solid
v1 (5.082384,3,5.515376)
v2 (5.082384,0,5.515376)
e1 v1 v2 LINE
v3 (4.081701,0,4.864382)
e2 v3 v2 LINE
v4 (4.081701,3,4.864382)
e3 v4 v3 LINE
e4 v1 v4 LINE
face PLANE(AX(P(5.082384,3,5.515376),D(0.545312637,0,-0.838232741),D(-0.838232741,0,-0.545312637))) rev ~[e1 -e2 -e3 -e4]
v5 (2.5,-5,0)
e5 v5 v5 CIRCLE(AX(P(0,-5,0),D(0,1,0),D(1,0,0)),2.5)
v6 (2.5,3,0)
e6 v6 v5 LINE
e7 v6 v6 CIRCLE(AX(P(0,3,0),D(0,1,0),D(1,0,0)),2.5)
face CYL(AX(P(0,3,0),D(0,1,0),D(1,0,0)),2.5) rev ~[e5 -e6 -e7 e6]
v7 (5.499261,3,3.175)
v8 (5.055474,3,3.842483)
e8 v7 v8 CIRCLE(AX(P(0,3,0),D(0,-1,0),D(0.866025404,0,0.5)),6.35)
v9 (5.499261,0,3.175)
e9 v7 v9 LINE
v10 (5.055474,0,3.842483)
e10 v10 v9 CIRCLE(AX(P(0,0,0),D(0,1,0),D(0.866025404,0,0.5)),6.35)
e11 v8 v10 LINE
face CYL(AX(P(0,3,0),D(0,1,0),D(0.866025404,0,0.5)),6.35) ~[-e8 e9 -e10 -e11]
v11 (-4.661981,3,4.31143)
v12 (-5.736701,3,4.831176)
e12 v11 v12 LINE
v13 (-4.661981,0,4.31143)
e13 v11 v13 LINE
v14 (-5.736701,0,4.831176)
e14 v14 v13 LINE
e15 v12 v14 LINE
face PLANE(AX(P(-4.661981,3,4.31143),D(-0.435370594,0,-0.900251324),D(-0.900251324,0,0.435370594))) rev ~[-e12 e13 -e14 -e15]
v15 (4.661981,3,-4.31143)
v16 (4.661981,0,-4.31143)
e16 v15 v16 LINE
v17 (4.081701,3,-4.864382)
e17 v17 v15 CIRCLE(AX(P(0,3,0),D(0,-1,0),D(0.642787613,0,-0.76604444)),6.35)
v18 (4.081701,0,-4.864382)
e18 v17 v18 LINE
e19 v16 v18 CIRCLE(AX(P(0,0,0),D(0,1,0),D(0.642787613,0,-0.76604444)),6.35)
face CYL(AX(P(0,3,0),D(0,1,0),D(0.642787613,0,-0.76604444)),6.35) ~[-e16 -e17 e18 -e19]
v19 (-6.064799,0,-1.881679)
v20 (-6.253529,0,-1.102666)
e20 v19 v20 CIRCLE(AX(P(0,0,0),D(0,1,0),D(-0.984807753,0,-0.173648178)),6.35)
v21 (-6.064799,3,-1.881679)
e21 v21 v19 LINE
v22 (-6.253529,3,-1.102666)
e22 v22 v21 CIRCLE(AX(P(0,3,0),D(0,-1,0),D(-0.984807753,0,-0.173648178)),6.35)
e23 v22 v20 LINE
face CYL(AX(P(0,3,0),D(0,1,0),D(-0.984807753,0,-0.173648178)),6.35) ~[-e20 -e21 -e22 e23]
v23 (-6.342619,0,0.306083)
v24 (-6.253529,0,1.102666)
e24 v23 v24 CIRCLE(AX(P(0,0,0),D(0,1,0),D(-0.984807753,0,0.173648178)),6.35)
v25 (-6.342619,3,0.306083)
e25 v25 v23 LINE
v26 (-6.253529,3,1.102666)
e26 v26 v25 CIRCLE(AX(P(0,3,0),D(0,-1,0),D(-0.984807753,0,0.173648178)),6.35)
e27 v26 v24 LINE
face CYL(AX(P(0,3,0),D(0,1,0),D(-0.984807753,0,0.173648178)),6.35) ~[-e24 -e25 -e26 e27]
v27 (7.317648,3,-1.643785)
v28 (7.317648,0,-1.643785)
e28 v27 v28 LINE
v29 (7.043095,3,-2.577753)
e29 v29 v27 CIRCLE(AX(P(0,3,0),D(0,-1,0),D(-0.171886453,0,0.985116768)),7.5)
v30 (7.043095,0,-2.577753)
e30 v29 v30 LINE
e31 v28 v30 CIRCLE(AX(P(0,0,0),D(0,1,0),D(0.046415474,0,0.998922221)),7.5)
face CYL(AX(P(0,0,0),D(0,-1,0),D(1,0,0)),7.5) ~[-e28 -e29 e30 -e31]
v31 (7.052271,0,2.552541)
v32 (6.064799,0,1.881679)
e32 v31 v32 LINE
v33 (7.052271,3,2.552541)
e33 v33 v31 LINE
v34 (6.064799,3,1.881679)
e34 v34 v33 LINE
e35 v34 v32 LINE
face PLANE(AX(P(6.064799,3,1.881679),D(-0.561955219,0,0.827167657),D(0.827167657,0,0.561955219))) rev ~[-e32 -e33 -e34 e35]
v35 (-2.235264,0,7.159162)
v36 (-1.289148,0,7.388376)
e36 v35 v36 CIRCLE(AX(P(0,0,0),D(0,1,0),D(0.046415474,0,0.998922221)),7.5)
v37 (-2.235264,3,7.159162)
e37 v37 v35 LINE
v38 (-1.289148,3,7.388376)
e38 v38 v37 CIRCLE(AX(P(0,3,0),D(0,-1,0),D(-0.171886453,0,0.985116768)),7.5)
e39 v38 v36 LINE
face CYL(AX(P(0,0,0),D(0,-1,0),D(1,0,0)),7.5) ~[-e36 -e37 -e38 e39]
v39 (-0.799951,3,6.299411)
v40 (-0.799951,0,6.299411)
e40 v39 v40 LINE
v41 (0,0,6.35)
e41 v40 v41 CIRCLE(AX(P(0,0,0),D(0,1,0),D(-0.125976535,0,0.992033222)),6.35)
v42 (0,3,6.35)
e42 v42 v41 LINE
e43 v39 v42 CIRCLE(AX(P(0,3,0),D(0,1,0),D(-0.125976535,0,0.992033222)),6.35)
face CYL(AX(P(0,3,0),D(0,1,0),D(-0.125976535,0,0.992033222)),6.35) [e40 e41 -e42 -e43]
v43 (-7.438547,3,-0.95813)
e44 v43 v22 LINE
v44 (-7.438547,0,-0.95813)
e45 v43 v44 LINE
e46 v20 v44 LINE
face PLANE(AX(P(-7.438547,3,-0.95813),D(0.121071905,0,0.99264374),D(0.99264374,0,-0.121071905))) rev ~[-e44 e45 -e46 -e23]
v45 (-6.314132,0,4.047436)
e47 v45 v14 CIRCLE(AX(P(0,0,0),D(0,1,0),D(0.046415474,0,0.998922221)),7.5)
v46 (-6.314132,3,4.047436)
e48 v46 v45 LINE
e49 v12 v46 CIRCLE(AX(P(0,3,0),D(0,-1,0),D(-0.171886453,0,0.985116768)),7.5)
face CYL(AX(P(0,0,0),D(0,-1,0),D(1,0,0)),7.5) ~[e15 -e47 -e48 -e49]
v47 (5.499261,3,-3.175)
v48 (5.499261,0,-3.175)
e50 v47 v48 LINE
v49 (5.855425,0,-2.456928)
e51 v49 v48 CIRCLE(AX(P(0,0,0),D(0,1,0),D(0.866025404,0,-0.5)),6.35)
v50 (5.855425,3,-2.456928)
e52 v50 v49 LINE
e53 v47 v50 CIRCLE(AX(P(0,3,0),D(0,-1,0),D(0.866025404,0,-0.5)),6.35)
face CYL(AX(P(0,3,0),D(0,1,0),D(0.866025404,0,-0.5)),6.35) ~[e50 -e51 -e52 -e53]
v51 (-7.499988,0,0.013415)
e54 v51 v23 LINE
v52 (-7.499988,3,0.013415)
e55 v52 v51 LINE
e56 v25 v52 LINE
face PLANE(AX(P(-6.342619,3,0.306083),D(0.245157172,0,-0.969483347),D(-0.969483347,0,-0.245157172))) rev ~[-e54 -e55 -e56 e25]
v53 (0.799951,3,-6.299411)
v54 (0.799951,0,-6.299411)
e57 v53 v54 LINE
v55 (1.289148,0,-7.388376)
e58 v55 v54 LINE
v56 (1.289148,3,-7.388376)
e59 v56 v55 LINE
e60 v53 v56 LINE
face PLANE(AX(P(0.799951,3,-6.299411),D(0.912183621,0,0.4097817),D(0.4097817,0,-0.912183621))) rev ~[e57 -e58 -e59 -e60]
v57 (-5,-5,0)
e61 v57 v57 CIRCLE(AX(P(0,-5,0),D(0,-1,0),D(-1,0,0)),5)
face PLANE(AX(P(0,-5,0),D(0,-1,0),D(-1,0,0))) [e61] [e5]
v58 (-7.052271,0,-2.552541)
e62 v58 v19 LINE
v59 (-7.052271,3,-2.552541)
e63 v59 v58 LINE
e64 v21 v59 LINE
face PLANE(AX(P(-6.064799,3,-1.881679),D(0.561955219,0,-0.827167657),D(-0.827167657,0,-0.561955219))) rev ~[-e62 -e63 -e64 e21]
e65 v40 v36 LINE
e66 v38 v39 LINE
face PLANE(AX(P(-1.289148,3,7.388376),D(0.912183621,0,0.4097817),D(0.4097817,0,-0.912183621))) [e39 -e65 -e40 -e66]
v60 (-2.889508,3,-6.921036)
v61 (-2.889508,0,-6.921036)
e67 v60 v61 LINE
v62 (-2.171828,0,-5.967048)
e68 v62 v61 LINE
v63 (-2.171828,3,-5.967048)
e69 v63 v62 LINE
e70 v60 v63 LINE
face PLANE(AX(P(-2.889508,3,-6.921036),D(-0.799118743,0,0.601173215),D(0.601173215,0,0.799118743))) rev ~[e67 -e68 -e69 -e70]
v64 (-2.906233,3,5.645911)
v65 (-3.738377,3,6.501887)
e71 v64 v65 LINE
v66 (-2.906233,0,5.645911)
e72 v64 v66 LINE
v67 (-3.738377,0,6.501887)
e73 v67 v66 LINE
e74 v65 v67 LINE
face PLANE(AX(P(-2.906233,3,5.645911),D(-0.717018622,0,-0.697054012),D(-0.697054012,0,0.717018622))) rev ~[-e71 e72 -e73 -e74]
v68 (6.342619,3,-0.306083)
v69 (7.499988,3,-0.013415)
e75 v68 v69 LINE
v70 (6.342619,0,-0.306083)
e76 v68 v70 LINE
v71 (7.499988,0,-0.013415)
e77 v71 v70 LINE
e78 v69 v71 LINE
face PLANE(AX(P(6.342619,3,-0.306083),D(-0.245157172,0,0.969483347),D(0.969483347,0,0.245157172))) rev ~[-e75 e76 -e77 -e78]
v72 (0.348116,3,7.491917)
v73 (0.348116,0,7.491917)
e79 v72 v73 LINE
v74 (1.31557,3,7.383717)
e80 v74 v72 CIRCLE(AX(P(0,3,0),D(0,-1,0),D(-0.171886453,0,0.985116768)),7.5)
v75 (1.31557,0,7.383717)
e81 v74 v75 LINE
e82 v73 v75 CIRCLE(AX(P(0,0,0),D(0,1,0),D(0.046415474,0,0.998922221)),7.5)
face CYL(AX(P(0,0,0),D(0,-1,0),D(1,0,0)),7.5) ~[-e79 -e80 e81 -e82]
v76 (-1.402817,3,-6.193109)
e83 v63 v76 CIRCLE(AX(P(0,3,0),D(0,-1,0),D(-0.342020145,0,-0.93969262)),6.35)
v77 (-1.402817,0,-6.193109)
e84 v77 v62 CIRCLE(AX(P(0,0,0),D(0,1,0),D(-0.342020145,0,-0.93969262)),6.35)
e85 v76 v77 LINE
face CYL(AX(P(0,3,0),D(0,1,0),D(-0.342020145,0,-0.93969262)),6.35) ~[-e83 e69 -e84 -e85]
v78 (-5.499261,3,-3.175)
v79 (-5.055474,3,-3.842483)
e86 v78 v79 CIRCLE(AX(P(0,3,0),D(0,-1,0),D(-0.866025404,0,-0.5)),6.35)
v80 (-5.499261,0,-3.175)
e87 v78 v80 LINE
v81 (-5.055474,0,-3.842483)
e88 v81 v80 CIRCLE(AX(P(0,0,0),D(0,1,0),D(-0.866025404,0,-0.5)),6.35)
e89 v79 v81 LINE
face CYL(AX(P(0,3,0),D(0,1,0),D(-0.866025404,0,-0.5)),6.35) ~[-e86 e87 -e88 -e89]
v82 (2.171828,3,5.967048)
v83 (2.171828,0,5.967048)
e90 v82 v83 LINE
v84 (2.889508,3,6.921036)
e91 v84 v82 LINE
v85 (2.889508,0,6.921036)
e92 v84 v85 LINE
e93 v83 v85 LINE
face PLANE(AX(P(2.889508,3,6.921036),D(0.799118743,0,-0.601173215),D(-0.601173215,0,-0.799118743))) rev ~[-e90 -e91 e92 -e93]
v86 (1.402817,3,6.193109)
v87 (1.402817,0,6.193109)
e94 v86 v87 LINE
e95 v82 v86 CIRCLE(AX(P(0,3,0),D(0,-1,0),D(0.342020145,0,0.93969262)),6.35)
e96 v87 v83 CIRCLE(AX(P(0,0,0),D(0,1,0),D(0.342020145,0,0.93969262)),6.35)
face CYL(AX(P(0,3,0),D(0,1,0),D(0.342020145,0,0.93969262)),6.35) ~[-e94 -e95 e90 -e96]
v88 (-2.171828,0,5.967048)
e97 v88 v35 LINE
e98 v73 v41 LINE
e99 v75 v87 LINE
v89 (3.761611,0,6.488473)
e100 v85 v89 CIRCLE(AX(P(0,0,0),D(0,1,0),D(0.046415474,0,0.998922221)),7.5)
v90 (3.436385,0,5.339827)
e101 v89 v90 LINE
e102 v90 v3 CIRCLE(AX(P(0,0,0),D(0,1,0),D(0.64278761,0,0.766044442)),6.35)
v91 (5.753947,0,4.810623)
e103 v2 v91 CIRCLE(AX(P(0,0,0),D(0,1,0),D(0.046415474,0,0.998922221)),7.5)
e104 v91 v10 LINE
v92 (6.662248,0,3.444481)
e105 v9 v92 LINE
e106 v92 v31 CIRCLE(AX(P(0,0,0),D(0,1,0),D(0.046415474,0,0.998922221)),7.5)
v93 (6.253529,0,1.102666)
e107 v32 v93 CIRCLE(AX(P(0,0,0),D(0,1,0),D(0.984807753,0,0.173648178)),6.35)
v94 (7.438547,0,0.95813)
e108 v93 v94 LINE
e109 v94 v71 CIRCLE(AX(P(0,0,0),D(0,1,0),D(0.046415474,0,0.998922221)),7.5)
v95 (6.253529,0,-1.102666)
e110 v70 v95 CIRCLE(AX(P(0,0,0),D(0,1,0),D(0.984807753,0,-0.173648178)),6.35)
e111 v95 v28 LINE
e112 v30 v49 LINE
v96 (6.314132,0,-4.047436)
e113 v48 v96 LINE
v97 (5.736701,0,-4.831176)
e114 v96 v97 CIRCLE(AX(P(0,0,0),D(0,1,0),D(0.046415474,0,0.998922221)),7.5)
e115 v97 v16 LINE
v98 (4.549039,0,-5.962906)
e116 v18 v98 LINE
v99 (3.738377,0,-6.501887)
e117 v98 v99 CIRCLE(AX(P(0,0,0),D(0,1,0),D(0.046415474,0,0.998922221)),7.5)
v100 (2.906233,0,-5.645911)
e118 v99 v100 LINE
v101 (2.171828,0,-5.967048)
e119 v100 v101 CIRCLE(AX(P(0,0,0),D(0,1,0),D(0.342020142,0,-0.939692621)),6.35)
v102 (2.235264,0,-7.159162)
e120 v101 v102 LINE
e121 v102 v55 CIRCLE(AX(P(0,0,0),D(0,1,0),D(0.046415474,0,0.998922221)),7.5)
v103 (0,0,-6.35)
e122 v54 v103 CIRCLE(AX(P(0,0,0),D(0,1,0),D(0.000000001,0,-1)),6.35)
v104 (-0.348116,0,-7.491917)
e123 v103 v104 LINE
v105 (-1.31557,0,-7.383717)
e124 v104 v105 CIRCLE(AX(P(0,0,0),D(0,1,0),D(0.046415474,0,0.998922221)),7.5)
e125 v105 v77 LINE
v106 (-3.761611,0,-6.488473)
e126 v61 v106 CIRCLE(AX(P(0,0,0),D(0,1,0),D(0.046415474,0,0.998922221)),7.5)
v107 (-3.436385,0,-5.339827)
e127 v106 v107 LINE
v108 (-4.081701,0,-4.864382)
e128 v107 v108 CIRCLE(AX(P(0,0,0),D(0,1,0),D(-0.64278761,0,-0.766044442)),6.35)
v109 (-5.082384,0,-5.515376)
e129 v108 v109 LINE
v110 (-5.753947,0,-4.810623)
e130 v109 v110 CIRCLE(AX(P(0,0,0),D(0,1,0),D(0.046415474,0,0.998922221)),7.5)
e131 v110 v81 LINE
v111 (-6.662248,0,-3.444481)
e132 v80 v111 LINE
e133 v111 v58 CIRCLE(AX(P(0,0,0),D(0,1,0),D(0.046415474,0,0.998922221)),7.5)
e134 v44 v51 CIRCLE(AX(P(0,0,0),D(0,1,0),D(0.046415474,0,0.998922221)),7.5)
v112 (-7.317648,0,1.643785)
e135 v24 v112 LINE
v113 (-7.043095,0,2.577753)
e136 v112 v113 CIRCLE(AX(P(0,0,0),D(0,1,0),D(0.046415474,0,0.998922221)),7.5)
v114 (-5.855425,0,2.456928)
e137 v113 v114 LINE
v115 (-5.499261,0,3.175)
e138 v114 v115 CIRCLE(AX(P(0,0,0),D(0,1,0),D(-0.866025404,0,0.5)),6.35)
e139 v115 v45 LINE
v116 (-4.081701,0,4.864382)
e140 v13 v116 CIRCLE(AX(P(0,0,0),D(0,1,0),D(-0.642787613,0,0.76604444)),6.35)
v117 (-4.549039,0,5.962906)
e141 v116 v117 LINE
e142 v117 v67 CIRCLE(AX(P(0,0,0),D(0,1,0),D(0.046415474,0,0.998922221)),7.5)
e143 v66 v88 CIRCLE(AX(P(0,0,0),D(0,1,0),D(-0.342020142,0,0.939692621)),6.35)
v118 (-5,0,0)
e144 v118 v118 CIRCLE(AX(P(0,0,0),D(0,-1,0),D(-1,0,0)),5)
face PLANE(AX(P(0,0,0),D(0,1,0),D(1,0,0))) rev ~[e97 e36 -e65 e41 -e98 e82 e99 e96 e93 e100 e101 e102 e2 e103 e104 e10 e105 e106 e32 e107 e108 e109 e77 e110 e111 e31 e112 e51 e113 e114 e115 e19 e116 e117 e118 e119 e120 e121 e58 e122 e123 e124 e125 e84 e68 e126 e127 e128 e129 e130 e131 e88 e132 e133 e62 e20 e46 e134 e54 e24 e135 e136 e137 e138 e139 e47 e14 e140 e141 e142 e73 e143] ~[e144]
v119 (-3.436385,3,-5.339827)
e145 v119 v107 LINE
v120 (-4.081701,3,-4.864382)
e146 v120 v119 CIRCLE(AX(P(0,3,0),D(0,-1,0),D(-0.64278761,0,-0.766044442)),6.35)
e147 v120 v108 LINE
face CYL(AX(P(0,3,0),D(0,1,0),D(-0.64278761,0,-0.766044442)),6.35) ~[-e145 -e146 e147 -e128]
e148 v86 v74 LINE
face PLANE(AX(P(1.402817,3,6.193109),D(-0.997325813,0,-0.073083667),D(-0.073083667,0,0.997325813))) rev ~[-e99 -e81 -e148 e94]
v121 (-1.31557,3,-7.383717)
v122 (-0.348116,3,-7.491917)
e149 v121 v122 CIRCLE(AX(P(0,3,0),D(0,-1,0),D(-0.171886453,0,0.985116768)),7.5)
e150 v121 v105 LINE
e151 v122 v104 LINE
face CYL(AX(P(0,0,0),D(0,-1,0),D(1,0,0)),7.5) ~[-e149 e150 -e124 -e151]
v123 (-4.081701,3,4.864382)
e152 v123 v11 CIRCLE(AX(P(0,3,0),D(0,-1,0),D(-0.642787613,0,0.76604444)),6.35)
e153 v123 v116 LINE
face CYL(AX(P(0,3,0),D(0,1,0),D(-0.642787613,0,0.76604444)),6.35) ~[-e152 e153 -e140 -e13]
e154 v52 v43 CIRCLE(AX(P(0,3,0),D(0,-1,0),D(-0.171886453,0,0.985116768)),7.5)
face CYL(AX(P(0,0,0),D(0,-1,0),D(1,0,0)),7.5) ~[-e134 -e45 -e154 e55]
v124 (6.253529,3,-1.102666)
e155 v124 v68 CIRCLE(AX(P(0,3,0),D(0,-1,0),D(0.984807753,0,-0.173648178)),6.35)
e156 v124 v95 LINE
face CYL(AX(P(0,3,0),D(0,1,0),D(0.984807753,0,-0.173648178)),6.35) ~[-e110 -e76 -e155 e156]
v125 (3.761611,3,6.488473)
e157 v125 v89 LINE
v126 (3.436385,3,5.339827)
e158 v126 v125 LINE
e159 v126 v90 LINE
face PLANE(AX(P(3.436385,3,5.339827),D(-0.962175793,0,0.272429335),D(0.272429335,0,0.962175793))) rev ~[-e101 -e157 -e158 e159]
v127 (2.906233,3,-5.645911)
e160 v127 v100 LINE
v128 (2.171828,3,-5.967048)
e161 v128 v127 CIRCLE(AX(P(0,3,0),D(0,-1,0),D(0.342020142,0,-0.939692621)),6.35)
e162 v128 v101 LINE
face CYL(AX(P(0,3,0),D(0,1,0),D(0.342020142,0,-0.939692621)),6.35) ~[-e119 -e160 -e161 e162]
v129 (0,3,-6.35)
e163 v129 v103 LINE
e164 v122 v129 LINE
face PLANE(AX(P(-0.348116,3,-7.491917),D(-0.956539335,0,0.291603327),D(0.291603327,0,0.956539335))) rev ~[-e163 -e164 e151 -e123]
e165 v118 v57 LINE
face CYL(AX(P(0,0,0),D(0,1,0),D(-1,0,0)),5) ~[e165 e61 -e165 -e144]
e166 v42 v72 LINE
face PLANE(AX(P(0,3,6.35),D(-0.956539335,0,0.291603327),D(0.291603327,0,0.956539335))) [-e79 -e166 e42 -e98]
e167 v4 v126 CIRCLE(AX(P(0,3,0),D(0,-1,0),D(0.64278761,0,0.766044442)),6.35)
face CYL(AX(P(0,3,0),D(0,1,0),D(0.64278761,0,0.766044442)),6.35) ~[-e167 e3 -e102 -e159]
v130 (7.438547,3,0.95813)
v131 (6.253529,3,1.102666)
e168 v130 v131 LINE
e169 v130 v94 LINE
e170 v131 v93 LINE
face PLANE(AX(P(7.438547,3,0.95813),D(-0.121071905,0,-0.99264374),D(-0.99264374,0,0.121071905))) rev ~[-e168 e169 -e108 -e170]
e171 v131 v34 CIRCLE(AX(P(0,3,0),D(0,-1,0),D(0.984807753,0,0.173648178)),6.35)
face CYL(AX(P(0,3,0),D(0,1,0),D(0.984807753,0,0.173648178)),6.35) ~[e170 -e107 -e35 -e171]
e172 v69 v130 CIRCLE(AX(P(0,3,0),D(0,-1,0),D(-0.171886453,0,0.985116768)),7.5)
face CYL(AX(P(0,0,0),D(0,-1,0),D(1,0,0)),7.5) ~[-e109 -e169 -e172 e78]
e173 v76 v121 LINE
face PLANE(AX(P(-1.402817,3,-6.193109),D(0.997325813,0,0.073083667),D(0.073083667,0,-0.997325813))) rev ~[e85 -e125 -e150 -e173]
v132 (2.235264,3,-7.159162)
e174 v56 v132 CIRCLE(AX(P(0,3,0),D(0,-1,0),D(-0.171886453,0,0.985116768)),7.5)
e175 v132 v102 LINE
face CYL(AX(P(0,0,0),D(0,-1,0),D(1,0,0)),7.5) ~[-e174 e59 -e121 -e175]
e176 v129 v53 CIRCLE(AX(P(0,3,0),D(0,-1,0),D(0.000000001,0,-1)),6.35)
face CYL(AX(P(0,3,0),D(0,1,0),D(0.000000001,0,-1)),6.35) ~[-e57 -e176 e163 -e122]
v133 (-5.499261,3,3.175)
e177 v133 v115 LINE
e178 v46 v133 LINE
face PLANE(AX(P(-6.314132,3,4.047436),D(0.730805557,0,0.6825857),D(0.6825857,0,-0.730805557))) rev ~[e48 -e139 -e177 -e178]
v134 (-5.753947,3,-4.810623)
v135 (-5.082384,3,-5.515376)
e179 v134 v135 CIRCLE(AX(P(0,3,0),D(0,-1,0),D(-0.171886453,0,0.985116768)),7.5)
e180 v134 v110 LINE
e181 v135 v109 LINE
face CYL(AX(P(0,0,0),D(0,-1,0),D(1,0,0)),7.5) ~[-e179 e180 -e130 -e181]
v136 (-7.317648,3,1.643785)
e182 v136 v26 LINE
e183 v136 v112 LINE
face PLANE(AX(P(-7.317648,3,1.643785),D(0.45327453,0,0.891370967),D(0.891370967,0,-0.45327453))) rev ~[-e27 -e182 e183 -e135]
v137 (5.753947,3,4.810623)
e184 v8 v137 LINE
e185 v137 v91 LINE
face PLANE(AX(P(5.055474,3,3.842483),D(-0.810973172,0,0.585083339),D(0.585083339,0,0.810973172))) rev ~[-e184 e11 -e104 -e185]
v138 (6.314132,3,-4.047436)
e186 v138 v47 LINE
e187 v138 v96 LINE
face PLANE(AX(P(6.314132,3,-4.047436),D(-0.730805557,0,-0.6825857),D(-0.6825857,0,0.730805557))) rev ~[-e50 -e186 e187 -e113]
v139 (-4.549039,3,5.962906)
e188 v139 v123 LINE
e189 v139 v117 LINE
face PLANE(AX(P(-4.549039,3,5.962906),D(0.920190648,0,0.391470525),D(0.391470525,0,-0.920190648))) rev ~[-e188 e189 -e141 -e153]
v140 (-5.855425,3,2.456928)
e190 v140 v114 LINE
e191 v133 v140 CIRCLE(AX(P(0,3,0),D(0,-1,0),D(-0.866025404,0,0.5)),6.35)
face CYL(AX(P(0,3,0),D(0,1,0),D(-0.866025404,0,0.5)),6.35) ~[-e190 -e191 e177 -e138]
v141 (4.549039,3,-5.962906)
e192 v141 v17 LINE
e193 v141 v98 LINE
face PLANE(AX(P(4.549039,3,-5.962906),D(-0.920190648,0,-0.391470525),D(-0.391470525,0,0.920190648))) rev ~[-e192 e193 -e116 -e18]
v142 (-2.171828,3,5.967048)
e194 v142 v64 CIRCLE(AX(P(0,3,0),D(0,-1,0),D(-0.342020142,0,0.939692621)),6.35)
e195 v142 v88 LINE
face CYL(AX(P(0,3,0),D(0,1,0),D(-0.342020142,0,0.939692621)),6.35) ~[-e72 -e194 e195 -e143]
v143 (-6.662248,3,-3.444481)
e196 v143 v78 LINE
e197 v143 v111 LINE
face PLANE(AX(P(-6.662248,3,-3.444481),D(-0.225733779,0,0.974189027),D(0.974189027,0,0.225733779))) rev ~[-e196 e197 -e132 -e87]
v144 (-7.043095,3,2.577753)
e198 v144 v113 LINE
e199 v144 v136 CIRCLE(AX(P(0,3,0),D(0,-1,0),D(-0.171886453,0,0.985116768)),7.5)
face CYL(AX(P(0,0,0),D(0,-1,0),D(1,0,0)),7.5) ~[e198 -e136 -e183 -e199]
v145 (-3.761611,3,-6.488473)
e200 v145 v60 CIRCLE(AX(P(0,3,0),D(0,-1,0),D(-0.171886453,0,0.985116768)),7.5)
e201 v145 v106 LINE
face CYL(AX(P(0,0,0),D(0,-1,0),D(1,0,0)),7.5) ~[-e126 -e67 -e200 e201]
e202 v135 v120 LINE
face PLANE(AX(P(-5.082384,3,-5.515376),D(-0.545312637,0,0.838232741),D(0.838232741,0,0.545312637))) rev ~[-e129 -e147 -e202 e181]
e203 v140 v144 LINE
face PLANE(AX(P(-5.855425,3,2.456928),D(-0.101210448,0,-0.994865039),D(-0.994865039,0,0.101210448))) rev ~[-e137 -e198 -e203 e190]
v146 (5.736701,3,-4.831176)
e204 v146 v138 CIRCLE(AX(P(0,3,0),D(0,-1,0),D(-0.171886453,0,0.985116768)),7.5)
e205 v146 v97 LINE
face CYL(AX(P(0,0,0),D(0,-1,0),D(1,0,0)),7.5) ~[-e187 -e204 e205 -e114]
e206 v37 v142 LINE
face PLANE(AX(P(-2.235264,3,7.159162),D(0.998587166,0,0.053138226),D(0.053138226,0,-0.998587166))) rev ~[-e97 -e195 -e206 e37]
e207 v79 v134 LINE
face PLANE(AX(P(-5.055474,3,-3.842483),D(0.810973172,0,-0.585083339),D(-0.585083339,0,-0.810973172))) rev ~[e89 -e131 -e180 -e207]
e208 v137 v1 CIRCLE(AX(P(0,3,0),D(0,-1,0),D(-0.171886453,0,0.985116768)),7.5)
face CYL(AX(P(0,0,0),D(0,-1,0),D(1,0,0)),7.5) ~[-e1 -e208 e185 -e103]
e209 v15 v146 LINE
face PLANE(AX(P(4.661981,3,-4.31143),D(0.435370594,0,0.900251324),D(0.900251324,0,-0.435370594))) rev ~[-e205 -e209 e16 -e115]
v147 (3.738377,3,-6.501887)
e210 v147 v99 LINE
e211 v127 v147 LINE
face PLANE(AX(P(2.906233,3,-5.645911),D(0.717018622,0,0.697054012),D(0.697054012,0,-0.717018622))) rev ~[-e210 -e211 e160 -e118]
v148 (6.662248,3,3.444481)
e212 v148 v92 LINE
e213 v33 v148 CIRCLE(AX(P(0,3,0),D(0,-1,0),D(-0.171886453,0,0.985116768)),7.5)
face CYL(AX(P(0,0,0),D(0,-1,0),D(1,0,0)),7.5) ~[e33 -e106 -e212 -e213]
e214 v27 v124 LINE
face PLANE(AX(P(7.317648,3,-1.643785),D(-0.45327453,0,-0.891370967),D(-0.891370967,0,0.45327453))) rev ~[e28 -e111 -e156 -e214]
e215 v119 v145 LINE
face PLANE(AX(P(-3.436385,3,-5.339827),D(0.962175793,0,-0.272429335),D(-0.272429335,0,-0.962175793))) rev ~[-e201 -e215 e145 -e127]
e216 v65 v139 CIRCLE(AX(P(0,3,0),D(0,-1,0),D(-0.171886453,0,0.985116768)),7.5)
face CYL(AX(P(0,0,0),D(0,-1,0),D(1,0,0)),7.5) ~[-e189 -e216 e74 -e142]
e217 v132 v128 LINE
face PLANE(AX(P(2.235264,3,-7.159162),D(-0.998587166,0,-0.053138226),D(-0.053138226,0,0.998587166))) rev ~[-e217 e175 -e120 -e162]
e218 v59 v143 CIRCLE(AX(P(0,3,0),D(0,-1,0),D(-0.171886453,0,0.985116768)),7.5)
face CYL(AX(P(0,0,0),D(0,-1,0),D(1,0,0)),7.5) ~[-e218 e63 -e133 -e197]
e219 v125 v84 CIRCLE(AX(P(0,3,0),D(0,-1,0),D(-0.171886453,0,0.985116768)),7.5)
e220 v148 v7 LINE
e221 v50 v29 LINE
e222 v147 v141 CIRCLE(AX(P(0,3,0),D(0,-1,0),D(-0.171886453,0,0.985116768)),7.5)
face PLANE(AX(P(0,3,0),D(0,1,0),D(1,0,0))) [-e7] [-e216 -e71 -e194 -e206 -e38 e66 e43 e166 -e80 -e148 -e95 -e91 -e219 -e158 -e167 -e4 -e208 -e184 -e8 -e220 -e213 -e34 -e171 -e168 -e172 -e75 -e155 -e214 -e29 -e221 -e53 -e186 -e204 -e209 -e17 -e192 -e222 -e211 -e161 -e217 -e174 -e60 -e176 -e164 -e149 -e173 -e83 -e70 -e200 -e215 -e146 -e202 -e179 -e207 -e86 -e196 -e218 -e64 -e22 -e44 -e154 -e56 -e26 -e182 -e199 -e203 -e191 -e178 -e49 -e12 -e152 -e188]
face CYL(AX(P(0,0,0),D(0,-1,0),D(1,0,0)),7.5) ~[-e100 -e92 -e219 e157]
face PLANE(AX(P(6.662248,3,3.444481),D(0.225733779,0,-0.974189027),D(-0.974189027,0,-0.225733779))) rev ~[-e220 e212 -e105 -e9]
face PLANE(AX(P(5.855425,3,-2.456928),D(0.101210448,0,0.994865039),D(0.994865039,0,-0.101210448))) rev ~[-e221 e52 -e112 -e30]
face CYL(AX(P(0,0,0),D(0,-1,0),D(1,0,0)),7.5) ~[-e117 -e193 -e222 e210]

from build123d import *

# Parameters (mm, degrees)
SKETCH1_R           = 7.5
BOSS_EXTRUDE1_DEPTH = 3
SKETCH2_R           = 5
BOSS_EXTRUDE2_DEPTH = 5
CUT_EXTRUDE1_REACH  = 10
SKETCH3_R           = 2.5
CUT_EXTRUDE2_REACH  = 10


with BuildPart() as part:
    # Sketch1 → Boss-Extrude1 (new body)
    with BuildSketch(Plane(origin=(0, 0, 0), x_dir=(1, 0, 0), z_dir=(0, 1, 0))):
        Circle(SKETCH1_R)
    extrude(amount=BOSS_EXTRUDE1_DEPTH)

    # Sketch2 → Boss-Extrude2 (add)
    with BuildSketch(Plane(origin=(0, 0, 0), x_dir=(-1, 0, 0), z_dir=(0, -1, 0))):
        Circle(SKETCH2_R)
    extrude(amount=BOSS_EXTRUDE2_DEPTH)

    # Sketch3 → Cut-Extrude1 (cut, up to next)
    with BuildSketch(Plane(origin=(0, 3, 0), x_dir=(1, 0, 0), z_dir=(0, 1, 0)), mode=Mode.PRIVATE) as cut_extrude1_sk1:
        Circle(SKETCH3_R)
    cut_extrude1_tool1 = extrude(cut_extrude1_sk1.sketch, amount=-CUT_EXTRUDE1_REACH, mode=Mode.PRIVATE) & part.part
    add(cut_extrude1_tool1.solids().sort_by_distance((0, 3, 0))[0], mode=Mode.SUBTRACT)

    # Sketch4 → Cut-Extrude2 (cut, up to next)
    with BuildSketch(Plane(origin=(0, 3, 0), x_dir=(1, 0, 0), z_dir=(0, 1, 0)), mode=Mode.PRIVATE) as cut_extrude2_sk1:
        with BuildLine():
            Line((-1.289148398, -7.388375762), (-0.799951005, -6.299410956))
            ThreePointArc((-0.799951005, -6.299410956), (-0.400774519, -6.337340119), (0, -6.35))
            Line((0, -6.35), (0.348116052, -7.491916658))
            ThreePointArc((0.348116052, -7.491916658), (-0.473355731, -7.485047385), (-1.289148398, -7.388375762))
        make_face()
    cut_extrude2_tool1 = extrude(cut_extrude2_sk1.sketch, amount=-CUT_EXTRUDE2_REACH, mode=Mode.PRIVATE) & part.part
    add(cut_extrude2_tool1.solids().sort_by_distance((-0.440605, 3, 6.967167))[0], mode=Mode.SUBTRACT)
    # Sketch4 → Cut-Extrude2 (cut, up to next)
    with BuildSketch(Plane(origin=(0, 3, 0), x_dir=(1, 0, 0), z_dir=(0, 1, 0)), mode=Mode.PRIVATE) as cut_extrude2_sk2:
        with BuildLine():
            Line((-2.235264324, -7.159161501), (-2.17182791, -5.967048142))
            ThreePointArc((-2.17182791, -5.967048142), (-2.544102834, -5.818078787), (-2.906233494, -5.645910633))
            Line((-2.906233494, -5.645910633), (-3.738376574, -6.501887464))
            ThreePointArc((-3.738376574, -6.501887464), (-3.004845867, -6.871746599), (-2.235264324, -7.159161501))
        make_face()
    cut_extrude2_tool2 = extrude(cut_extrude2_sk2.sketch, amount=-CUT_EXTRUDE2_REACH, mode=Mode.PRIVATE) & part.part
    add(cut_extrude2_tool2.solids().sort_by_distance((-2.796945, 3, 6.3963))[0], mode=Mode.SUBTRACT)
    # Sketch4 → Cut-Extrude2 (cut, up to next)
    with BuildSketch(Plane(origin=(0, 3, 0), x_dir=(1, 0, 0), z_dir=(0, 1, 0)), mode=Mode.PRIVATE) as cut_extrude2_sk3:
        with BuildLine():
            Line((-4.549038834, -5.962905809), (-4.081701322, -4.864382214))
            ThreePointArc((-4.081701322, -4.864382214), (-4.3805748, -4.597071287), (-4.661981333, -4.311430164))
            Line((-4.661981333, -4.311430164), (-5.736701363, -4.831175579))
            ThreePointArc((-5.736701363, -4.831175579), (-5.173907244, -5.429611756), (-4.549038834, -5.962905809))
        make_face()
    cut_extrude2_tool3 = extrude(cut_extrude2_sk3.sketch, amount=-CUT_EXTRUDE2_REACH, mode=Mode.PRIVATE) & part.part
    add(cut_extrude2_tool3.solids().sort_by_distance((-4.815932, 3, 5.053944))[0], mode=Mode.SUBTRACT)
    # Sketch4 → Cut-Extrude2 (cut, up to next)
    with BuildSketch(Plane(origin=(0, 3, 0), x_dir=(1, 0, 0), z_dir=(0, 1, 0)), mode=Mode.PRIVATE) as cut_extrude2_sk4:
        with BuildLine():
            Line((-6.314132123, -4.047435674), (-5.499261314, -3.175))
            ThreePointArc((-5.499261314, -3.175), (-5.688684795, -2.821589145), (-5.855425419, -2.456927586))
            Line((-5.855425419, -2.456927586), (-7.043095302, -2.577752619))
            ThreePointArc((-7.043095302, -2.577752619), (-6.718919049, -3.332585604), (-6.314132123, -4.047435674))
        make_face()
    cut_extrude2_tool4 = extrude(cut_extrude2_sk4.sketch, amount=-CUT_EXTRUDE2_REACH, mode=Mode.PRIVATE) & part.part
    add(cut_extrude2_tool4.solids().sort_by_distance((-6.254046, 3, 3.102009))[0], mode=Mode.SUBTRACT)
    # Sketch4 → Cut-Extrude2 (cut, up to next)
    with BuildSketch(Plane(origin=(0, 3, 0), x_dir=(1, 0, 0), z_dir=(0, 1, 0)), mode=Mode.PRIVATE) as cut_extrude2_sk5:
        with BuildLine():
            Line((-7.317647892, -1.643785062), (-6.253529232, -1.102665928))
            ThreePointArc((-6.253529232, -1.102665928), (-6.310655448, -0.705781709), (-6.342618783, -0.306083282))
            Line((-6.342618783, -0.306083282), (-7.499988003, -0.01341465))
            ThreePointArc((-7.499988003, -0.01341465), (-7.453530056, -0.833600444), (-7.317647892, -1.643785062))
        make_face()
    cut_extrude2_tool5 = extrude(cut_extrude2_sk5.sketch, amount=-CUT_EXTRUDE2_REACH, mode=Mode.PRIVATE) & part.part
    add(cut_extrude2_tool5.solids().sort_by_distance((-6.93783, 3, 0.775925))[0], mode=Mode.SUBTRACT)
    # Sketch4 → Cut-Extrude2 (cut, up to next)
    with BuildSketch(Plane(origin=(0, 3, 0), x_dir=(1, 0, 0), z_dir=(0, 1, 0)), mode=Mode.PRIVATE) as cut_extrude2_sk6:
        with BuildLine():
            Line((-7.438547328, 0.958130288), (-6.253529232, 1.102665928))
            ThreePointArc((-6.253529232, 1.102665928), (-6.171467918, 1.495153417), (-6.064798715, 1.881679184))
            Line((-6.064798715, 1.881679184), (-7.052271463, 2.552541324))
            ThreePointArc((-7.052271463, 2.552541324), (-7.289135336, 1.765929232), (-7.438547328, 0.958130288))
        make_face()
    cut_extrude2_tool6 = extrude(cut_extrude2_sk6.sketch, amount=-CUT_EXTRUDE2_REACH, mode=Mode.PRIVATE) & part.part
    add(cut_extrude2_tool6.solids().sort_by_distance((-6.78481, 3, -1.643747))[0], mode=Mode.SUBTRACT)
    # Sketch4 → Cut-Extrude2 (cut, up to next)
    with BuildSketch(Plane(origin=(0, 3, 0), x_dir=(1, 0, 0), z_dir=(0, 1, 0)), mode=Mode.PRIVATE) as cut_extrude2_sk7:
        with BuildLine():
            Line((-6.662248175, 3.444480985), (-5.499261314, 3.175))
            ThreePointArc((-5.499261314, 3.175), (-5.287910276, 3.515750974), (-5.055474414, 3.84248337))
            Line((-5.055474414, 3.84248337), (-5.753946904, 4.810623143))
            ThreePointArc((-5.753946904, 4.810623143), (-6.245563318, 4.152461781), (-6.662248175, 3.444480985))
        make_face()
    cut_extrude2_tool7 = extrude(cut_extrude2_sk7.sketch, amount=-CUT_EXTRUDE2_REACH, mode=Mode.PRIVATE) & part.part
    add(cut_extrude2_tool7.solids().sort_by_distance((-5.813441, 3, -3.865159))[0], mode=Mode.SUBTRACT)
    # Sketch4 → Cut-Extrude2 (cut, up to next)
    with BuildSketch(Plane(origin=(0, 3, 0), x_dir=(1, 0, 0), z_dir=(0, 1, 0)), mode=Mode.PRIVATE) as cut_extrude2_sk8:
        with BuildLine():
            Line((-5.082383568, 5.51537644), (-4.081701322, 4.864382214))
            ThreePointArc((-4.081701322, 4.864382214), (-3.766552614, 5.112297078), (-3.436385289, 5.339827352))
            Line((-3.436385289, 5.339827352), (-3.761611429, 6.488472814))
            ThreePointArc((-3.761611429, 6.488472814), (-4.448684189, 6.038146155), (-5.082383568, 5.51537644))
        make_face()
    cut_extrude2_tool8 = extrude(cut_extrude2_sk8.sketch, amount=-CUT_EXTRUDE2_REACH, mode=Mode.PRIVATE) & part.part
    add(cut_extrude2_tool8.solids().sort_by_distance((-4.140886, 3, -5.620375))[0], mode=Mode.SUBTRACT)
    # Sketch4 → Cut-Extrude2 (cut, up to next)
    with BuildSketch(Plane(origin=(0, 3, 0), x_dir=(1, 0, 0), z_dir=(0, 1, 0)), mode=Mode.PRIVATE) as cut_extrude2_sk9:
        with BuildLine():
            Line((-2.889508494, 6.921036097), (-2.17182791, 5.967048142))
            ThreePointArc((-2.17182791, 5.967048142), (-1.790893118, 6.092224704), (-1.402817382, 6.193109348))
            Line((-1.402817382, 6.193109348), (-1.3155701, 7.383716903))
            ThreePointArc((-1.3155701, 7.383716903), (-2.115228092, 7.195540989), (-2.889508494, 6.921036097))
        make_face()
    cut_extrude2_tool9 = extrude(cut_extrude2_sk9.sketch, amount=-CUT_EXTRUDE2_REACH, mode=Mode.PRIVATE) & part.part
    add(cut_extrude2_tool9.solids().sort_by_distance((-1.968878, 3, -6.697691))[0], mode=Mode.SUBTRACT)
    # Sketch4 → Cut-Extrude2 (cut, up to next)
    with BuildSketch(Plane(origin=(0, 3, 0), x_dir=(1, 0, 0), z_dir=(0, 1, 0)), mode=Mode.PRIVATE) as cut_extrude2_sk10:
        with BuildLine():
            Line((-0.348116052, 7.491916658), (0, 6.35))
            ThreePointArc((0, 6.35), (0.400774519, 6.337340119), (0.799951005, 6.299410956))
            Line((0.799951005, 6.299410956), (1.289148398, 7.388375762))
            ThreePointArc((1.289148398, 7.388375762), (0.473355731, 7.485047385), (-0.348116052, 7.491916658))
        make_face()
    cut_extrude2_tool10 = extrude(cut_extrude2_sk10.sketch, amount=-CUT_EXTRUDE2_REACH, mode=Mode.PRIVATE) & part.part
    add(cut_extrude2_tool10.solids().sort_by_distance((0.440605, 3, -6.967167))[0], mode=Mode.SUBTRACT)
    # Sketch4 → Cut-Extrude2 (cut, up to next)
    with BuildSketch(Plane(origin=(0, 3, 0), x_dir=(1, 0, 0), z_dir=(0, 1, 0)), mode=Mode.PRIVATE) as cut_extrude2_sk11:
        with BuildLine():
            Line((2.235264324, 7.159161501), (2.17182791, 5.967048142))
            ThreePointArc((2.17182791, 5.967048142), (2.544102834, 5.818078787), (2.906233494, 5.645910633))
            Line((2.906233494, 5.645910633), (3.738376574, 6.501887464))
            ThreePointArc((3.738376574, 6.501887464), (3.004845867, 6.871746599), (2.235264324, 7.159161501))
        make_face()
    cut_extrude2_tool11 = extrude(cut_extrude2_sk11.sketch, amount=-CUT_EXTRUDE2_REACH, mode=Mode.PRIVATE) & part.part
    add(cut_extrude2_tool11.solids().sort_by_distance((2.796945, 3, -6.3963))[0], mode=Mode.SUBTRACT)
    # Sketch4 → Cut-Extrude2 (cut, up to next)
    with BuildSketch(Plane(origin=(0, 3, 0), x_dir=(1, 0, 0), z_dir=(0, 1, 0)), mode=Mode.PRIVATE) as cut_extrude2_sk12:
        with BuildLine():
            Line((4.549038834, 5.962905809), (4.081701322, 4.864382214))
            ThreePointArc((4.081701322, 4.864382214), (4.3805748, 4.597071287), (4.661981333, 4.311430164))
            Line((4.661981333, 4.311430164), (5.736701363, 4.831175579))
            ThreePointArc((5.736701363, 4.831175579), (5.173907244, 5.429611756), (4.549038834, 5.962905809))
        make_face()
    cut_extrude2_tool12 = extrude(cut_extrude2_sk12.sketch, amount=-CUT_EXTRUDE2_REACH, mode=Mode.PRIVATE) & part.part
    add(cut_extrude2_tool12.solids().sort_by_distance((4.815932, 3, -5.053944))[0], mode=Mode.SUBTRACT)
    # Sketch4 → Cut-Extrude2 (cut, up to next)
    with BuildSketch(Plane(origin=(0, 3, 0), x_dir=(1, 0, 0), z_dir=(0, 1, 0)), mode=Mode.PRIVATE) as cut_extrude2_sk13:
        with BuildLine():
            Line((6.314132123, 4.047435674), (5.499261314, 3.175))
            ThreePointArc((5.499261314, 3.175), (5.688684795, 2.821589145), (5.855425419, 2.456927586))
            Line((5.855425419, 2.456927586), (7.043095302, 2.577752619))
            ThreePointArc((7.043095302, 2.577752619), (6.718919049, 3.332585604), (6.314132123, 4.047435674))
        make_face()
    cut_extrude2_tool13 = extrude(cut_extrude2_sk13.sketch, amount=-CUT_EXTRUDE2_REACH, mode=Mode.PRIVATE) & part.part
    add(cut_extrude2_tool13.solids().sort_by_distance((6.254046, 3, -3.102009))[0], mode=Mode.SUBTRACT)
    # Sketch4 → Cut-Extrude2 (cut, up to next)
    with BuildSketch(Plane(origin=(0, 3, 0), x_dir=(1, 0, 0), z_dir=(0, 1, 0)), mode=Mode.PRIVATE) as cut_extrude2_sk14:
        with BuildLine():
            Line((7.317647892, 1.643785062), (6.253529232, 1.102665928))
            ThreePointArc((6.253529232, 1.102665928), (6.310655448, 0.705781709), (6.342618783, 0.306083282))
            Line((6.342618783, 0.306083282), (7.499988003, 0.01341465))
            ThreePointArc((7.499988003, 0.01341465), (7.453530056, 0.833600444), (7.317647892, 1.643785062))
        make_face()
    cut_extrude2_tool14 = extrude(cut_extrude2_sk14.sketch, amount=-CUT_EXTRUDE2_REACH, mode=Mode.PRIVATE) & part.part
    add(cut_extrude2_tool14.solids().sort_by_distance((6.93783, 3, -0.775925))[0], mode=Mode.SUBTRACT)
    # Sketch4 → Cut-Extrude2 (cut, up to next)
    with BuildSketch(Plane(origin=(0, 3, 0), x_dir=(1, 0, 0), z_dir=(0, 1, 0)), mode=Mode.PRIVATE) as cut_extrude2_sk15:
        with BuildLine():
            Line((7.438547328, -0.958130288), (6.253529232, -1.102665928))
            ThreePointArc((6.253529232, -1.102665928), (6.171467918, -1.495153417), (6.064798715, -1.881679184))
            Line((6.064798715, -1.881679184), (7.052271463, -2.552541324))
            ThreePointArc((7.052271463, -2.552541324), (7.289135336, -1.765929232), (7.438547328, -0.958130288))
        make_face()
    cut_extrude2_tool15 = extrude(cut_extrude2_sk15.sketch, amount=-CUT_EXTRUDE2_REACH, mode=Mode.PRIVATE) & part.part
    add(cut_extrude2_tool15.solids().sort_by_distance((6.78481, 3, 1.643747))[0], mode=Mode.SUBTRACT)
    # Sketch4 → Cut-Extrude2 (cut, up to next)
    with BuildSketch(Plane(origin=(0, 3, 0), x_dir=(1, 0, 0), z_dir=(0, 1, 0)), mode=Mode.PRIVATE) as cut_extrude2_sk16:
        with BuildLine():
            Line((6.662248175, -3.444480985), (5.499261314, -3.175))
            ThreePointArc((5.499261314, -3.175), (5.287910276, -3.515750974), (5.055474414, -3.84248337))
            Line((5.055474414, -3.84248337), (5.753946904, -4.810623143))
            ThreePointArc((5.753946904, -4.810623143), (6.245563318, -4.152461781), (6.662248175, -3.444480985))
        make_face()
    cut_extrude2_tool16 = extrude(cut_extrude2_sk16.sketch, amount=-CUT_EXTRUDE2_REACH, mode=Mode.PRIVATE) & part.part
    add(cut_extrude2_tool16.solids().sort_by_distance((5.813441, 3, 3.865159))[0], mode=Mode.SUBTRACT)
    # Sketch4 → Cut-Extrude2 (cut, up to next)
    with BuildSketch(Plane(origin=(0, 3, 0), x_dir=(1, 0, 0), z_dir=(0, 1, 0)), mode=Mode.PRIVATE) as cut_extrude2_sk17:
        with BuildLine():
            Line((5.082383568, -5.51537644), (4.081701322, -4.864382214))
            ThreePointArc((4.081701322, -4.864382214), (3.766552614, -5.112297078), (3.436385289, -5.339827352))
            Line((3.436385289, -5.339827352), (3.761611429, -6.488472814))
            ThreePointArc((3.761611429, -6.488472814), (4.448684189, -6.038146155), (5.082383568, -5.51537644))
        make_face()
    cut_extrude2_tool17 = extrude(cut_extrude2_sk17.sketch, amount=-CUT_EXTRUDE2_REACH, mode=Mode.PRIVATE) & part.part
    add(cut_extrude2_tool17.solids().sort_by_distance((4.140886, 3, 5.620375))[0], mode=Mode.SUBTRACT)
    # Sketch4 → Cut-Extrude2 (cut, up to next)
    with BuildSketch(Plane(origin=(0, 3, 0), x_dir=(1, 0, 0), z_dir=(0, 1, 0)), mode=Mode.PRIVATE) as cut_extrude2_sk18:
        with BuildLine():
            Line((2.889508494, -6.921036097), (2.17182791, -5.967048142))
            ThreePointArc((2.17182791, -5.967048142), (1.790893118, -6.092224704), (1.402817382, -6.193109348))
            Line((1.402817382, -6.193109348), (1.3155701, -7.383716903))
            ThreePointArc((1.3155701, -7.383716903), (2.115228092, -7.195540989), (2.889508494, -6.921036097))
        make_face()
    cut_extrude2_tool18 = extrude(cut_extrude2_sk18.sketch, amount=-CUT_EXTRUDE2_REACH, mode=Mode.PRIVATE) & part.part
    add(cut_extrude2_tool18.solids().sort_by_distance((1.968878, 3, 6.697691))[0], mode=Mode.SUBTRACT)


solid = part.part
